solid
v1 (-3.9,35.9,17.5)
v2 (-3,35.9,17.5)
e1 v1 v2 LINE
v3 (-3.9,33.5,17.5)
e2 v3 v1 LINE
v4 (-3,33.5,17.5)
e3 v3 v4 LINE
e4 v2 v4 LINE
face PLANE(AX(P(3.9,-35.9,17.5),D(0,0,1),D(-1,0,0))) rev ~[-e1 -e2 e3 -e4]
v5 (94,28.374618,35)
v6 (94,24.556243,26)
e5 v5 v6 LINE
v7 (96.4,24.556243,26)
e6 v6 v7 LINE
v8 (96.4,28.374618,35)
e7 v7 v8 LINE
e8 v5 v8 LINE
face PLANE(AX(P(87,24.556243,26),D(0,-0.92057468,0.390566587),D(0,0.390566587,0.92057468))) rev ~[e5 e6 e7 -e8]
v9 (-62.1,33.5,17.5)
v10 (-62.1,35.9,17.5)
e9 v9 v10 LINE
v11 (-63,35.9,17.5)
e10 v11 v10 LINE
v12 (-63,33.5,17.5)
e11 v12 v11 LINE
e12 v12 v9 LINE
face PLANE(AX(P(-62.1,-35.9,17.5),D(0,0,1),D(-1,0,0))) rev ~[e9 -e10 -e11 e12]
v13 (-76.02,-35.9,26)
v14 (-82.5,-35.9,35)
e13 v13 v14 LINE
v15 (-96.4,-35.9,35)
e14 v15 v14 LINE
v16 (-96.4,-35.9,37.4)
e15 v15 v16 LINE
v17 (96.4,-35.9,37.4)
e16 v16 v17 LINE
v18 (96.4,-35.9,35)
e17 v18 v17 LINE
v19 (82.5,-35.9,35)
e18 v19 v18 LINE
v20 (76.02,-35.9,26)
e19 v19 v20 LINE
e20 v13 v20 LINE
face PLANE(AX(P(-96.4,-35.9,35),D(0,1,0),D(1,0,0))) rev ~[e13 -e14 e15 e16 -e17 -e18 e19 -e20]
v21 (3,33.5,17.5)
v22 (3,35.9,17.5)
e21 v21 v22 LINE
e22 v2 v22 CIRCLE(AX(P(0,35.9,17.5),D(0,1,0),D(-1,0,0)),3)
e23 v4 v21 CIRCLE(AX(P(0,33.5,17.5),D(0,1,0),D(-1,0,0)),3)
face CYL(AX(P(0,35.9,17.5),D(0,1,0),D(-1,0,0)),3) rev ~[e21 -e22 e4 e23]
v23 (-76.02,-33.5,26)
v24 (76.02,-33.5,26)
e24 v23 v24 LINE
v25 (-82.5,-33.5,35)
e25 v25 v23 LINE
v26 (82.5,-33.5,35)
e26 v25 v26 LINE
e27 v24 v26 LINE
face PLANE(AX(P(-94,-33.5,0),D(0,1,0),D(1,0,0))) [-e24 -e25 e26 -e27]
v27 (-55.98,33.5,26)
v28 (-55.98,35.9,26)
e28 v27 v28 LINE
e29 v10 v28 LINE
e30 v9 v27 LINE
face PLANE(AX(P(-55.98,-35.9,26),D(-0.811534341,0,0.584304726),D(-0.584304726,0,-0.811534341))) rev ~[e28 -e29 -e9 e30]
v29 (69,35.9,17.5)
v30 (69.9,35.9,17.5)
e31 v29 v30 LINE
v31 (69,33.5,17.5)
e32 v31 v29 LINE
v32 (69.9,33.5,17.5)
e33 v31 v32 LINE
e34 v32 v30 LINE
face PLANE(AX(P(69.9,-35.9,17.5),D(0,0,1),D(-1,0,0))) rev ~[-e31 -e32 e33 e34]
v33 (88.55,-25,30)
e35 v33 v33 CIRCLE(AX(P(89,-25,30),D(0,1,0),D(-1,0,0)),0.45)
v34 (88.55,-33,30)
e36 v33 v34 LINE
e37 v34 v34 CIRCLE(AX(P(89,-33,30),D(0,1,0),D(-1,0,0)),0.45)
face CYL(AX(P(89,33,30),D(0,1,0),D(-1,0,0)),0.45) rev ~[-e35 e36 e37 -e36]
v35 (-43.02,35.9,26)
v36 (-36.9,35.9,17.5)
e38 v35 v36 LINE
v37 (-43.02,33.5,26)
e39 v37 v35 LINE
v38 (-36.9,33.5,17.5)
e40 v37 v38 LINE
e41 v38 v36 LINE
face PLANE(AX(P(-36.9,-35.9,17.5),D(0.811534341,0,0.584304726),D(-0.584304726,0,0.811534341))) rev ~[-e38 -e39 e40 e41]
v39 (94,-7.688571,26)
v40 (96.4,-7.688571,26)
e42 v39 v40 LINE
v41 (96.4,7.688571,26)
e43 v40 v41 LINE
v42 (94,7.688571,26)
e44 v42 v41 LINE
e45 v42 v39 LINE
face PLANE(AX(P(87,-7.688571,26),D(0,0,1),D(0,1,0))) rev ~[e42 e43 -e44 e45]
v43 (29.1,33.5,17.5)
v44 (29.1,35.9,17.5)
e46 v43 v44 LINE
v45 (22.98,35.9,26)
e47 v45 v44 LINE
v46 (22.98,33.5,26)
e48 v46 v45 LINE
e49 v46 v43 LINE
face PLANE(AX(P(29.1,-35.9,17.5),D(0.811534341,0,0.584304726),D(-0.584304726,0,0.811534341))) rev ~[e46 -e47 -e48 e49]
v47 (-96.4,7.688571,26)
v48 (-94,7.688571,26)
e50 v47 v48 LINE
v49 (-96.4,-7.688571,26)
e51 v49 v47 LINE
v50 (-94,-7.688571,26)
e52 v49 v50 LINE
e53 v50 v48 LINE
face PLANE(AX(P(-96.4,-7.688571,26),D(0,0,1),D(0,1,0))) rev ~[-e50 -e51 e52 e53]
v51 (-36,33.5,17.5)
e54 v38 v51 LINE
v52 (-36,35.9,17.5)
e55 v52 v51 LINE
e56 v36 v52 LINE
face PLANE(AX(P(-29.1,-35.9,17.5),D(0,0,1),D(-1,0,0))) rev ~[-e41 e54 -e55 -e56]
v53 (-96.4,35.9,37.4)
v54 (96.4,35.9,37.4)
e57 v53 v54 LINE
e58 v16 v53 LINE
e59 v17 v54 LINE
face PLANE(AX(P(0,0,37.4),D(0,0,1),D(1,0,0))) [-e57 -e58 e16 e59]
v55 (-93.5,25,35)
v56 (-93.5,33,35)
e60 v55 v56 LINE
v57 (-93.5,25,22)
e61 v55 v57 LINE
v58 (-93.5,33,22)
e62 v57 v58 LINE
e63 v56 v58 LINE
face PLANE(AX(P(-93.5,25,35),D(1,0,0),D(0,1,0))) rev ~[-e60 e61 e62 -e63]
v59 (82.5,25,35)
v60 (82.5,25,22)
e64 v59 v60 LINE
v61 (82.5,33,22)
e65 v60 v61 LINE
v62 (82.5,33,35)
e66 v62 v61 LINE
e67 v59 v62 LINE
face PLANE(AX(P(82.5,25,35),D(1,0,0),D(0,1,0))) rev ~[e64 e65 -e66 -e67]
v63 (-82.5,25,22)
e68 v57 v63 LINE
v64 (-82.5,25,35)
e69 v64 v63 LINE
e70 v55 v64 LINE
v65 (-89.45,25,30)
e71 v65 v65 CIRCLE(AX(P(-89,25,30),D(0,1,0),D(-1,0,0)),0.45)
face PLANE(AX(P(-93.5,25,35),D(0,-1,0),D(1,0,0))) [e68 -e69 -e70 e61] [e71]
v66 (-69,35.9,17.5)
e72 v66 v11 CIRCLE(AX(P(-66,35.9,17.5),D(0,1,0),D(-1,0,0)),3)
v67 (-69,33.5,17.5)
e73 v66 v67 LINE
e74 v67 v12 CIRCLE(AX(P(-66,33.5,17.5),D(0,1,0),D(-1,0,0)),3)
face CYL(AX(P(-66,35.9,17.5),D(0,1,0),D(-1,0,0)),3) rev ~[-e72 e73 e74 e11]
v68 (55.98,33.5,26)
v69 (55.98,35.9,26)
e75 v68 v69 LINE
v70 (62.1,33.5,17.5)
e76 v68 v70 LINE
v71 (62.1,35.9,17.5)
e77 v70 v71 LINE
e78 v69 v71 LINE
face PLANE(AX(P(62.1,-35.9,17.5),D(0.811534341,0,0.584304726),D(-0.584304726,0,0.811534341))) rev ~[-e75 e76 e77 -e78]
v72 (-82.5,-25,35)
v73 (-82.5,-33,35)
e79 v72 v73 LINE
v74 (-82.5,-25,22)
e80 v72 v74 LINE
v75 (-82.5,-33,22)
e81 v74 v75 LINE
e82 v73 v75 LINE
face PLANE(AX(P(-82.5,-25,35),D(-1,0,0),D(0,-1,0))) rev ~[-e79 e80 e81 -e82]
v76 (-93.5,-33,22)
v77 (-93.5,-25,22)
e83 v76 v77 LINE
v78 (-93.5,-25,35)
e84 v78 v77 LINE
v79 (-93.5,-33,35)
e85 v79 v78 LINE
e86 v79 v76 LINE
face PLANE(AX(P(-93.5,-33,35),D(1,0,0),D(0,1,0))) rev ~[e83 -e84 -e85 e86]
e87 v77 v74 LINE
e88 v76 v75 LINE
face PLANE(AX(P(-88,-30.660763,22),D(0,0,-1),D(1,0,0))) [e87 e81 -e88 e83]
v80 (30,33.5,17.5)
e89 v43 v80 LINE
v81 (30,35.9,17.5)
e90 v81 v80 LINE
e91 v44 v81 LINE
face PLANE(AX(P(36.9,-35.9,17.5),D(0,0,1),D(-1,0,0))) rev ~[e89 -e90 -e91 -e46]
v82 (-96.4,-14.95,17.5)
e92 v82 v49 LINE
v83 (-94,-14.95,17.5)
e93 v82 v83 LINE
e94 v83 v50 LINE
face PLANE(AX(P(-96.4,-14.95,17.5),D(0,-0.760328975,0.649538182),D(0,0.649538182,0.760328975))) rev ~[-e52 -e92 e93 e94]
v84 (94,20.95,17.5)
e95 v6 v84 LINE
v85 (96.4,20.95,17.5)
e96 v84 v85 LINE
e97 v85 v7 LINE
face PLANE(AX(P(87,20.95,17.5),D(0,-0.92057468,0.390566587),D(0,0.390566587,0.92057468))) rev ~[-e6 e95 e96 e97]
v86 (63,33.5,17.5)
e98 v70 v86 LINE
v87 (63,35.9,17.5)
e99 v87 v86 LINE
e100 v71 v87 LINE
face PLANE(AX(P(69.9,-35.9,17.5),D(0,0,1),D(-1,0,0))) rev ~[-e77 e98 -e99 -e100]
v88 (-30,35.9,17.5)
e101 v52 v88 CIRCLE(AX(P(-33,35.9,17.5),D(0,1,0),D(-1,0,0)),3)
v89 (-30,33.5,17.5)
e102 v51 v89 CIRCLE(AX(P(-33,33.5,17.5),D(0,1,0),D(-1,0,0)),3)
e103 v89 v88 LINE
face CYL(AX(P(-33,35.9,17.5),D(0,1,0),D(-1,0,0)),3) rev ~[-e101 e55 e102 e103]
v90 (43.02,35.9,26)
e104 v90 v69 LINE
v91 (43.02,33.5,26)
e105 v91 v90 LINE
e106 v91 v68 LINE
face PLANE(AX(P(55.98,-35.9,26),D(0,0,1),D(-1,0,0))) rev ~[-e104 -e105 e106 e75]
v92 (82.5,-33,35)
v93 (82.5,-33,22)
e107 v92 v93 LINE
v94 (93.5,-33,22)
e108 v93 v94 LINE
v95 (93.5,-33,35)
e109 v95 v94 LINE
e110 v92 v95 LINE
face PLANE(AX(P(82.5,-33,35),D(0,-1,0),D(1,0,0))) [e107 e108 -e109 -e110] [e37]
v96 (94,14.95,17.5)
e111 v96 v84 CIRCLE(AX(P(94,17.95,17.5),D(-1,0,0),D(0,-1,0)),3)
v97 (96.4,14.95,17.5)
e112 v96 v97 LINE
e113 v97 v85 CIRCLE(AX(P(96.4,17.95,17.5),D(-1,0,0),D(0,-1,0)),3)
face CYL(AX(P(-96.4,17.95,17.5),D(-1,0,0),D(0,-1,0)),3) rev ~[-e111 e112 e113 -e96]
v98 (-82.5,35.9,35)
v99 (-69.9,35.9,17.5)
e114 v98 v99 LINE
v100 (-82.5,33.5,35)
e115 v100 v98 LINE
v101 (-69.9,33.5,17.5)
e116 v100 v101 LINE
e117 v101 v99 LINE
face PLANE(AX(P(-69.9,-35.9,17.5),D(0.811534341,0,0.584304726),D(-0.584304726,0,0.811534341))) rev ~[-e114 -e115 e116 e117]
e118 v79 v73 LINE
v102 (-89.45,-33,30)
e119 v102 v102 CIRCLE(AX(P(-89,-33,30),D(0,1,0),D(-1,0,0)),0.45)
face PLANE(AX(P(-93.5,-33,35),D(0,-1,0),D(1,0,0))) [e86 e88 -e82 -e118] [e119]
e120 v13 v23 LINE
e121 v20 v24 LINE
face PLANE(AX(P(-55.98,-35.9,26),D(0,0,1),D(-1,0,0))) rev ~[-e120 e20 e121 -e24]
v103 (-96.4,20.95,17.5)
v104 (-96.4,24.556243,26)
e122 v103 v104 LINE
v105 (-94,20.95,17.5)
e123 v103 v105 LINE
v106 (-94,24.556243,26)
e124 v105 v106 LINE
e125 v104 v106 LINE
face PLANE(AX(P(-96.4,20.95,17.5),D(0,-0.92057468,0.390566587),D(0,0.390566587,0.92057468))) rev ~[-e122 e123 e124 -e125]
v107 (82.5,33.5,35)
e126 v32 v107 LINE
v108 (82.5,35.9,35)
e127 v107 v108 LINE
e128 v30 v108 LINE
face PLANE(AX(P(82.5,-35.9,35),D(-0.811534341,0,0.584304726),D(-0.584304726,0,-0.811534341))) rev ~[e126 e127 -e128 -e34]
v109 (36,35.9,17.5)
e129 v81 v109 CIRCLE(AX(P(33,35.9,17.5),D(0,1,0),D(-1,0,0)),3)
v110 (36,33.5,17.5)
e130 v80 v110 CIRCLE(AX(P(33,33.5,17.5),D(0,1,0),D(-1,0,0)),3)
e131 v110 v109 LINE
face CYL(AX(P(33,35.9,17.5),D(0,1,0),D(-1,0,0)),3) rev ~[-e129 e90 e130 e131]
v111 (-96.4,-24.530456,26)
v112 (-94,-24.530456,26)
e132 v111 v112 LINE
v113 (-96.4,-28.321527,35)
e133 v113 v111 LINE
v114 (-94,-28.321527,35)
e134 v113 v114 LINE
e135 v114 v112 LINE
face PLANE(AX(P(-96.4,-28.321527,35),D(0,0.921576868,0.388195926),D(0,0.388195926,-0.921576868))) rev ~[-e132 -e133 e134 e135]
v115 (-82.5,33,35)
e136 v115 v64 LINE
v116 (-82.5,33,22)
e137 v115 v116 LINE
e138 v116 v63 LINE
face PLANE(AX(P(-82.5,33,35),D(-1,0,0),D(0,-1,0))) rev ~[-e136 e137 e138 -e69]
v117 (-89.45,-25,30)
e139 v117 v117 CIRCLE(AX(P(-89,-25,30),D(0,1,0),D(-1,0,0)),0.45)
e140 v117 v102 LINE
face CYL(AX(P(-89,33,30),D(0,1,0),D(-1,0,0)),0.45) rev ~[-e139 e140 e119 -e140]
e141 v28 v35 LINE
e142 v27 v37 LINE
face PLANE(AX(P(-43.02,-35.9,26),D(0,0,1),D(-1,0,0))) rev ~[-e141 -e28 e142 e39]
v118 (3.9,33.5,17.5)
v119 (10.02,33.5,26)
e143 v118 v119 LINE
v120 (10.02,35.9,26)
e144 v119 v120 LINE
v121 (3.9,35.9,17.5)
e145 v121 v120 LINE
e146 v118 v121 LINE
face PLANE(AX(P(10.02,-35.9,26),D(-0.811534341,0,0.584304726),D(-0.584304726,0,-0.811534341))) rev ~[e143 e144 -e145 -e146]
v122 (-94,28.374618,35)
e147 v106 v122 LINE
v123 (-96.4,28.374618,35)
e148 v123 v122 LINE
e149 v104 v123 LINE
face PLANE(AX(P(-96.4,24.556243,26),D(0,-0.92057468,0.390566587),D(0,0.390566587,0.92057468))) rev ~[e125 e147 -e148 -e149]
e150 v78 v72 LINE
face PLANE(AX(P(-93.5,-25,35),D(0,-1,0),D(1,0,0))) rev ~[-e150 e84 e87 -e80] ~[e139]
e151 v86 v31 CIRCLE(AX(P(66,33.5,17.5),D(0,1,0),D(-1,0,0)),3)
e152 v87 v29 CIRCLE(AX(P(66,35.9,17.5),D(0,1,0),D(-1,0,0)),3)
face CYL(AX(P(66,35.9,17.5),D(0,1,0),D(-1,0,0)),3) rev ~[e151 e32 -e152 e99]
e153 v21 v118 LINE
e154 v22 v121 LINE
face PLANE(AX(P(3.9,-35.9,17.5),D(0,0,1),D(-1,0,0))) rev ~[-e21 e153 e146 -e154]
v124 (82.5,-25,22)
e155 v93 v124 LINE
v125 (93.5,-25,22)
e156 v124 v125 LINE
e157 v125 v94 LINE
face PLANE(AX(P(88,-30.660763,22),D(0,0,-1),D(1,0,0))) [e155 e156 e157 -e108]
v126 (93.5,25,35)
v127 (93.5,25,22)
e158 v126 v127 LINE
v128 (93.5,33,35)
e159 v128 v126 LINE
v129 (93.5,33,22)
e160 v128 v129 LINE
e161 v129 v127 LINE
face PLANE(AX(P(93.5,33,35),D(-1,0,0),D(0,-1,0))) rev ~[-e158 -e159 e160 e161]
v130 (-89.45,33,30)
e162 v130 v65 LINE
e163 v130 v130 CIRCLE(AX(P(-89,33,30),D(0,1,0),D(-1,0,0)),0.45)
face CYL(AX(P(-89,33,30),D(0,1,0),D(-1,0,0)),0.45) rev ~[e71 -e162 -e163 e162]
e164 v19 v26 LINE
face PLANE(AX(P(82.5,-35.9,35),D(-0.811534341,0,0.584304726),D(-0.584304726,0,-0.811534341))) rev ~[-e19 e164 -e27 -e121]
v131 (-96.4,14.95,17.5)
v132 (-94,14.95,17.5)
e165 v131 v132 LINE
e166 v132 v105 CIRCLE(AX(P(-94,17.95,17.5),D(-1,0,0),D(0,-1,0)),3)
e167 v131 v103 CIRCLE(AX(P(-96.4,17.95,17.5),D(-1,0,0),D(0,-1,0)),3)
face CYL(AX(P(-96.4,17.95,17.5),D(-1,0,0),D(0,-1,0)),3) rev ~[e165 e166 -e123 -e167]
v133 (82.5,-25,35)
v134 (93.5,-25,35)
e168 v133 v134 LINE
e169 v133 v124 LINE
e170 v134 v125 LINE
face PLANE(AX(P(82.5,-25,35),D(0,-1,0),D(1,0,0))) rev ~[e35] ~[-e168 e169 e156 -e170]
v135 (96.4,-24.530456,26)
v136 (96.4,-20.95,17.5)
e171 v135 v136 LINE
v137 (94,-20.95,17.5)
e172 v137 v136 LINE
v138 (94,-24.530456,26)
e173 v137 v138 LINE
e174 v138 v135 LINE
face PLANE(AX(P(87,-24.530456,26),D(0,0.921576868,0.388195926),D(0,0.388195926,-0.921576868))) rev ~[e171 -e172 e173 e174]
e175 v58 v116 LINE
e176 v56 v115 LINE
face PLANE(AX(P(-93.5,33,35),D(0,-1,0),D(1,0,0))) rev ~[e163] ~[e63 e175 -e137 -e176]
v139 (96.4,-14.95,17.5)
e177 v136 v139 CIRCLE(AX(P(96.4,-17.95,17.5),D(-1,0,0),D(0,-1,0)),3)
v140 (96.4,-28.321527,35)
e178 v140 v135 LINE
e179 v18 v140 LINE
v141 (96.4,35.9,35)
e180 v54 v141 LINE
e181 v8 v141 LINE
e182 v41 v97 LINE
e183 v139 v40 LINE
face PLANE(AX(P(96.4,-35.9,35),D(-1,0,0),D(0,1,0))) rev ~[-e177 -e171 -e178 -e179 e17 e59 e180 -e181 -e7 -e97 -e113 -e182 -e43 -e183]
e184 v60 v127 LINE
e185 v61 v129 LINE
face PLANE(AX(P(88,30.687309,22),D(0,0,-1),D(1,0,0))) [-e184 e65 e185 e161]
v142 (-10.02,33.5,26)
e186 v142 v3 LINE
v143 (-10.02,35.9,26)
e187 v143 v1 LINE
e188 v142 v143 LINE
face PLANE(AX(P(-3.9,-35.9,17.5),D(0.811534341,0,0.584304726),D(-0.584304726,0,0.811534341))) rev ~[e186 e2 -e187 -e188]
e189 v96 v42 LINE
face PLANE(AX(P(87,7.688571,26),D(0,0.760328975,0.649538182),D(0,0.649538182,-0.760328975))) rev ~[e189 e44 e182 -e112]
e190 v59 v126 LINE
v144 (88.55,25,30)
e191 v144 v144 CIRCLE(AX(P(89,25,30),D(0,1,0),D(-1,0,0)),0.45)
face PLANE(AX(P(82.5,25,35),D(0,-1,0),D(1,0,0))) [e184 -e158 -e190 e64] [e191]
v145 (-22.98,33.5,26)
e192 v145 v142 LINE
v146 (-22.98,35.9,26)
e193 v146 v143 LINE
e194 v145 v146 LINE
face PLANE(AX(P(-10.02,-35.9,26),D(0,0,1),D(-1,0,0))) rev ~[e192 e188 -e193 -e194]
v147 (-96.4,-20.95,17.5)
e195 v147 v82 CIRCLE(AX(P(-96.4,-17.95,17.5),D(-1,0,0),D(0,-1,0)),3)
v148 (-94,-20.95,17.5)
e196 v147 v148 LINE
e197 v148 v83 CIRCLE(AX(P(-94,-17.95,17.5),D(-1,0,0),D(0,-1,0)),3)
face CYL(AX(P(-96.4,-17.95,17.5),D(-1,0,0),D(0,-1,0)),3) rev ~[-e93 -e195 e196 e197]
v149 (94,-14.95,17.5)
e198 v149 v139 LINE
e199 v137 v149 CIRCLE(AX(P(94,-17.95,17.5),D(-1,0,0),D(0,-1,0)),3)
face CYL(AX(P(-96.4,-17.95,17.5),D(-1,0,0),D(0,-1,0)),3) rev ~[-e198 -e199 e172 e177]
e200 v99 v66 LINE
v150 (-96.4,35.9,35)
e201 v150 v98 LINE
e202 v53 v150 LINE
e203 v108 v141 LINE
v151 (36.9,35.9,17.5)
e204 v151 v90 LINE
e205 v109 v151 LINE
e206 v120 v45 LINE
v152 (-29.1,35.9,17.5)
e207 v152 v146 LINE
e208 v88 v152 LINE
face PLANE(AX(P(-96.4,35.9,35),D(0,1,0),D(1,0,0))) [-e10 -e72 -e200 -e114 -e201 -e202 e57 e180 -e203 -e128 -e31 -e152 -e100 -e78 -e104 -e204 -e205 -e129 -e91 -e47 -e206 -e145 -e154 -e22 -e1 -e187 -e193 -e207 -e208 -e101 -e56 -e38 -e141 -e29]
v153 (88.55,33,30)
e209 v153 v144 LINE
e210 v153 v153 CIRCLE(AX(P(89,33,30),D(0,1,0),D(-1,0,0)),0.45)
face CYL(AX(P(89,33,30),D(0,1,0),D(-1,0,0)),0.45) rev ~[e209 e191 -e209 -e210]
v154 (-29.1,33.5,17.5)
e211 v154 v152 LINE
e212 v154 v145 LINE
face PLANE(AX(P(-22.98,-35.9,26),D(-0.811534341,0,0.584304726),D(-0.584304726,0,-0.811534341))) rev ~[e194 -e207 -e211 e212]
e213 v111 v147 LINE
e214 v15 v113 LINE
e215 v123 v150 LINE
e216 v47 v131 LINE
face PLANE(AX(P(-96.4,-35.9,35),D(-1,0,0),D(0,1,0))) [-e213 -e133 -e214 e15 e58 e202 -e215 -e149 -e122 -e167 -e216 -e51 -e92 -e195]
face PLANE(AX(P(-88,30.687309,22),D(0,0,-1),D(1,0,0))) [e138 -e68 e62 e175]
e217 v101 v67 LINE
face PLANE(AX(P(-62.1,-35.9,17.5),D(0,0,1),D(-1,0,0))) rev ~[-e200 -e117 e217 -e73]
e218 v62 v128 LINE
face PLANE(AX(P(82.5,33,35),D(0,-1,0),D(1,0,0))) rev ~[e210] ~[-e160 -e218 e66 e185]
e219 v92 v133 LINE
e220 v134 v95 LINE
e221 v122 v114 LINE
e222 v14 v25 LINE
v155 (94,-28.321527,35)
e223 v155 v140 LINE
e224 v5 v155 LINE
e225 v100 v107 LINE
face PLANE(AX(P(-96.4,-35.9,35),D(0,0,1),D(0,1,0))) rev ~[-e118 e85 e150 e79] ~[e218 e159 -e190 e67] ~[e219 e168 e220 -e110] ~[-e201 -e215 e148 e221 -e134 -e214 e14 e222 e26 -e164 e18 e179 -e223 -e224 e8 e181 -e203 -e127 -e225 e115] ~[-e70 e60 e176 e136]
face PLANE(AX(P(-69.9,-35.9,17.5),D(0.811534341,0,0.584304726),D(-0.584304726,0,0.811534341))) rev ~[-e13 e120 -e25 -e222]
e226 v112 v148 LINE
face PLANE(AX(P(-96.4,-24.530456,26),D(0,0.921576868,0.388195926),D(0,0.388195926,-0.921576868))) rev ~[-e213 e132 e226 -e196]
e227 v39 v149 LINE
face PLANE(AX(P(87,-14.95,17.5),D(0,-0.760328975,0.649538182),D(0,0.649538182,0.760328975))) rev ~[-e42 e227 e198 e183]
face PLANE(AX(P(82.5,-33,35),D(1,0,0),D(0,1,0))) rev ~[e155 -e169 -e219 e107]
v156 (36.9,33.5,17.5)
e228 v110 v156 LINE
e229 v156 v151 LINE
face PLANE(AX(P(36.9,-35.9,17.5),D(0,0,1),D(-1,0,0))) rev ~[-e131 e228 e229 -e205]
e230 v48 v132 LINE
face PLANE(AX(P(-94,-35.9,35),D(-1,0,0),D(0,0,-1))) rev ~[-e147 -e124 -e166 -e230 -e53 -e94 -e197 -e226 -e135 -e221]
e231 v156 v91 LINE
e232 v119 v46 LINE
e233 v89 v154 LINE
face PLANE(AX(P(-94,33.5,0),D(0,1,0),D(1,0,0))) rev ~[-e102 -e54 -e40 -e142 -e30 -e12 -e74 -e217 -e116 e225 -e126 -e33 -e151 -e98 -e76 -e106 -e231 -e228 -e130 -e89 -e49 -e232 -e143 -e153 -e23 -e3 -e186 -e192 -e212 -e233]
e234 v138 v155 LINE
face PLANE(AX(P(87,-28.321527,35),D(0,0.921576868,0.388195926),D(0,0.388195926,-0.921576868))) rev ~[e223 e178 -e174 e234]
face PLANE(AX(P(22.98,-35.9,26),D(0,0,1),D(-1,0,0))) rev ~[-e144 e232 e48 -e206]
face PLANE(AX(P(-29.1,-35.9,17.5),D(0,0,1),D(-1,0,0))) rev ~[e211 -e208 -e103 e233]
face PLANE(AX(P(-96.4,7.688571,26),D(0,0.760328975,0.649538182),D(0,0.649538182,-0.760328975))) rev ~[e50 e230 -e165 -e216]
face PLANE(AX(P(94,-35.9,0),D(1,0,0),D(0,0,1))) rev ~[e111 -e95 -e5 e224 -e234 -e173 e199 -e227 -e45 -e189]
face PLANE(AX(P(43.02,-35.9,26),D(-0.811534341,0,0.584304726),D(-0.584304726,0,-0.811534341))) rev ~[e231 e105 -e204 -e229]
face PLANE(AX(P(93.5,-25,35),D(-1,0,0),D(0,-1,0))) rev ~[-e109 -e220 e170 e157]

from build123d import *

# Parameters (mm, degrees)
F0_W      = 192.8
F0_H      = 71.8
F0_W_2    = 188
F0_H_2    = 67
F1_DEPTH  = 35
F2_R      = 3
F3_DEPTH  = 192.801
F4_R      = 3.9
F5_DEPTH  = 25
F6_R      = 3
F7_DEPTH  = 25
F8_W      = 192.8
F8_H      = 71.8
F8_W_2    = 188
F8_H_2    = 67
F11_DEPTH = 2.4
F12_DEPTH = 71.801
F13_DEPTH = 5
F14_START = -183.4
F14_DEPTH = 21.3
F15_W     = 11
F15_H     = 4.6784730554
F15_H_2   = 4.6253820807
F15_H_3   = 3.3215269446
F15_H_4   = 3.3746179193
F16_DEPTH = 13
F17_DEPTH = 25
F18_R     = 0.45
F19_DEPTH = 68.901


with BuildPart() as f1:
    # F0 (on Top) → F1 (new body)
    with BuildSketch(Plane.XY):
        Rectangle(F0_W, F0_H)
        Rectangle(F0_W_2, F0_H_2, mode=Mode.SUBTRACT)
    extrude(amount=F1_DEPTH)

    # F2 (on face) → F3 (cut, through all)
    with BuildSketch(Plane(origin=(-96.4, 0, 0), x_dir=(0, -1, 0), z_dir=(-1, 0, 0))):
        with Locations((-17.95, 17.5)):
            Circle(F2_R)
        with Locations((17.95, 17.5)):
            Circle(F2_R)
    extrude(amount=-F3_DEPTH, mode=Mode.SUBTRACT)

    # F4 (on face) → F5 (cut)
    with BuildSketch(Plane.XZ.offset(35.9)):
        with Locations((0, 17.5)):
            Circle(F4_R)
        with Locations((33, 17.5)):
            Circle(F4_R)
        with Locations((66, 17.5)):
            Circle(F4_R)
        with Locations((-33, 17.5)):
            Circle(F4_R)
        with Locations((-66, 17.5)):
            Circle(F4_R)
    extrude(amount=-F5_DEPTH, mode=Mode.SUBTRACT)

    # F6 (on face) → F7 (cut)
    with BuildSketch(Plane(origin=(0, 35.9, 0), x_dir=(-1, 0, 0), z_dir=(0, 1, 0))):
        with Locations((0, 17.5)):
            Circle(F6_R)
        with Locations((33, 17.5)):
            Circle(F6_R)
        with Locations((66, 17.5)):
            Circle(F6_R)
        with Locations((-33, 17.5)):
            Circle(F6_R)
        with Locations((-66, 17.5)):
            Circle(F6_R)
    extrude(amount=-F7_DEPTH, mode=Mode.SUBTRACT)

    # F8 (on face) → F11 (join)
    with BuildSketch(Plane.XY.offset(35)):
        Rectangle(F8_W, F8_H)
        Rectangle(F8_W_2, F8_H_2, mode=Mode.SUBTRACT)
        Rectangle(F8_W_2, F8_H_2)
    extrude(amount=F11_DEPTH)

    # F10 (on face) → F12 (cut, through all)
    with BuildSketch(Plane.XZ.offset(35.9)):
        with BuildLine():
            Line((-69.9, 17.5), (-76.02, 26))
            Line((-76.02, 26), (-94, 26))
            Line((-94, 26), (-94, 0))
            Line((-94, 0), (94, 0))
            Line((94, 0), (94, 26))
            Line((94, 26), (76.02, 26))
            Line((76.02, 26), (69.9, 17.5))
            ThreePointArc((69.9, 17.5), (66, 13.6), (62.1, 17.5))
            Line((62.1, 17.5), (55.98, 26))
            Line((55.98, 26), (43.02, 26))
            Line((43.02, 26), (36.9, 17.5))
            ThreePointArc((36.9, 17.5), (33, 13.6), (29.1, 17.5))
            Line((29.1, 17.5), (22.98, 26))
            Line((22.98, 26), (10.02, 26))
            Line((10.02, 26), (3.9, 17.5))
            ThreePointArc((3.9, 17.5), (0, 13.6), (-3.9, 17.5))
            Line((-3.9, 17.5), (-10.02, 26))
            Line((-10.02, 26), (-22.98, 26))
            Line((-22.98, 26), (-29.1, 17.5))
            ThreePointArc((-29.1, 17.5), (-33, 13.6), (-36.9, 17.5))
            Line((-36.9, 17.5), (-43.02, 26))
            Line((-43.02, 26), (-55.98, 26))
            Line((-55.98, 26), (-62.1, 17.5))
            ThreePointArc((-62.1, 17.5), (-66, 13.6), (-69.9, 17.5))
        make_face()
        Polygon((-76.02, 26), (-82.5, 35), (-94, 35), (-94, 26), align=None)
        Polygon((76.02, 26), (94, 26), (94, 35), (82.5, 35), align=None)
        with BuildLine():
            Line((-62.1, 17.5), (-69.9, 17.5))
            ThreePointArc((-69.9, 17.5), (-66, 13.6), (-62.1, 17.5))
        make_face()
        with BuildLine():
            Line((-29.1, 17.5), (-36.9, 17.5))
            ThreePointArc((-36.9, 17.5), (-33, 13.6), (-29.1, 17.5))
        make_face()
        with BuildLine():
            Line((3.9, 17.5), (-3.9, 17.5))
            ThreePointArc((-3.9, 17.5), (0, 13.6), (3.9, 17.5))
        make_face()
        with BuildLine():
            Line((36.9, 17.5), (29.1, 17.5))
            ThreePointArc((29.1, 17.5), (33, 13.6), (36.9, 17.5))
        make_face()
        with BuildLine():
            Line((69.9, 17.5), (62.1, 17.5))
            ThreePointArc((62.1, 17.5), (66, 13.6), (69.9, 17.5))
        make_face()
    extrude(amount=-F12_DEPTH, mode=Mode.SUBTRACT)

    # F9 (on face) → F13 (cut)
    with BuildSketch(Plane(origin=(-96.4, 0, 0), x_dir=(0, -1, 0), z_dir=(-1, 0, 0))):
        with BuildLine():
            Line((-20.95, 17.5), (-24.5562429894, 26))
            Line((-24.5562429894, 26), (-35.9, 26))
            Line((-35.9, 26), (-35.9, 0))
            Line((-35.9, 0), (35.9, 0))
            Line((35.9, 0), (35.9, 26))
            Line((35.9, 26), (24.5304559445, 26))
            Line((24.5304559445, 26), (20.95, 17.5))
            ThreePointArc((20.95, 17.5), (17.95, 14.5), (14.95, 17.5))
            Line((14.95, 17.5), (7.6885714286, 26))
            Line((7.6885714286, 26), (-7.6885714286, 26))
            Line((-7.6885714286, 26), (-14.95, 17.5))
            ThreePointArc((-14.95, 17.5), (-17.95, 14.5), (-20.95, 17.5))
        make_face()
        Polygon((-24.5562429894, 26), (-28.3746179193, 35), (-35.9, 35), (-35.9, 26), align=None)
        Polygon((35.9, 35), (28.3215269446, 35), (24.5304559445, 26), (35.9, 26), align=None)
    extrude(amount=-F13_DEPTH, mode=Mode.SUBTRACT)

    # F9 (on face) → F14 (cut)
    with BuildSketch(Plane(origin=(-96.4, 0, 0), x_dir=(0, -1, 0), z_dir=(-1, 0, 0)).offset(F14_START)):
        Polygon((-24.5562429894, 26), (-28.3746179193, 35), (-35.9, 35), (-35.9, 26), align=None)
        Polygon((35.9, 35), (28.3215269446, 35), (24.5304559445, 26), (35.9, 26), align=None)
        with BuildLine():
            Line((-20.95, 17.5), (-24.5562429894, 26))
            Line((-24.5562429894, 26), (-35.9, 26))
            Line((-35.9, 26), (-35.9, 0))
            Line((-35.9, 0), (35.9, 0))
            Line((35.9, 0), (35.9, 26))
            Line((35.9, 26), (24.5304559445, 26))
            Line((24.5304559445, 26), (20.95, 17.5))
            ThreePointArc((20.95, 17.5), (17.95, 14.5), (14.95, 17.5))
            Line((14.95, 17.5), (7.6885714286, 26))
            Line((7.6885714286, 26), (-7.6885714286, 26))
            Line((-7.6885714286, 26), (-14.95, 17.5))
            ThreePointArc((-14.95, 17.5), (-17.95, 14.5), (-20.95, 17.5))
        make_face()
    extrude(amount=-F14_DEPTH, mode=Mode.SUBTRACT)

    # F15 (on face) → F16 (join)
    with BuildSketch(Plane(origin=(0, 0, 35), x_dir=(1, 0, 0), z_dir=(0, 0, -1))):
        with Locations((-88, 30.6607634723)):
            Rectangle(F15_W, F15_H)
        with Locations((-88, -30.6873089597)):
            Rectangle(F15_W, F15_H_2)
        with Locations((88, -30.6873089597)):
            Rectangle(F15_W, F15_H_2)
        with Locations((88, 30.6607634723)):
            Rectangle(F15_W, F15_H)
        with Locations((88, 26.6607634723)):
            Rectangle(F15_W, F15_H_3)
        with Locations((88, -26.6873089597)):
            Rectangle(F15_W, F15_H_4)
        with Locations((-88, -26.6873089597)):
            Rectangle(F15_W, F15_H_4)
        with Locations((-88, 26.6607634723)):
            Rectangle(F15_W, F15_H_3)
    extrude(amount=F16_DEPTH)

    # F10 (on face) → F17 (cut)
    with BuildSketch(Plane.XZ.offset(35.9)):
        with BuildLine():
            Line((-55.98, 26), (-76.02, 26))
            Line((-76.02, 26), (-69.9, 17.5))
            ThreePointArc((-69.9, 17.5), (-66, 21.4), (-62.1, 17.5))
            Line((-62.1, 17.5), (-55.98, 26))
        make_face()
        with BuildLine():
            Line((-22.98, 26), (-43.02, 26))
            Line((-43.02, 26), (-36.9, 17.5))
            ThreePointArc((-36.9, 17.5), (-33, 21.4), (-29.1, 17.5))
            Line((-29.1, 17.5), (-22.98, 26))
        make_face()
        with BuildLine():
            Line((10.02, 26), (-10.02, 26))
            Line((-10.02, 26), (-3.9, 17.5))
            ThreePointArc((-3.9, 17.5), (0, 21.4), (3.9, 17.5))
            Line((3.9, 17.5), (10.02, 26))
        make_face()
        with BuildLine():
            Line((43.02, 26), (22.98, 26))
            Line((22.98, 26), (29.1, 17.5))
            ThreePointArc((29.1, 17.5), (33, 21.4), (36.9, 17.5))
            Line((36.9, 17.5), (43.02, 26))
        make_face()
        with BuildLine():
            Line((76.02, 26), (55.98, 26))
            Line((55.98, 26), (62.1, 17.5))
            ThreePointArc((62.1, 17.5), (66, 21.4), (69.9, 17.5))
            Line((69.9, 17.5), (76.02, 26))
        make_face()
    extrude(amount=-F17_DEPTH, mode=Mode.SUBTRACT)

    # F18 (on face) → F19 (cut, through all)
    with BuildSketch(Plane(origin=(0, 33, 0), x_dir=(-1, 0, 0), z_dir=(0, 1, 0))):
        with Locations((-89, 30)):
            Circle(F18_R)
        with Locations((89, 30)):
            Circle(F18_R)
    extrude(amount=-F19_DEPTH, mode=Mode.SUBTRACT)


solid = f1.part
